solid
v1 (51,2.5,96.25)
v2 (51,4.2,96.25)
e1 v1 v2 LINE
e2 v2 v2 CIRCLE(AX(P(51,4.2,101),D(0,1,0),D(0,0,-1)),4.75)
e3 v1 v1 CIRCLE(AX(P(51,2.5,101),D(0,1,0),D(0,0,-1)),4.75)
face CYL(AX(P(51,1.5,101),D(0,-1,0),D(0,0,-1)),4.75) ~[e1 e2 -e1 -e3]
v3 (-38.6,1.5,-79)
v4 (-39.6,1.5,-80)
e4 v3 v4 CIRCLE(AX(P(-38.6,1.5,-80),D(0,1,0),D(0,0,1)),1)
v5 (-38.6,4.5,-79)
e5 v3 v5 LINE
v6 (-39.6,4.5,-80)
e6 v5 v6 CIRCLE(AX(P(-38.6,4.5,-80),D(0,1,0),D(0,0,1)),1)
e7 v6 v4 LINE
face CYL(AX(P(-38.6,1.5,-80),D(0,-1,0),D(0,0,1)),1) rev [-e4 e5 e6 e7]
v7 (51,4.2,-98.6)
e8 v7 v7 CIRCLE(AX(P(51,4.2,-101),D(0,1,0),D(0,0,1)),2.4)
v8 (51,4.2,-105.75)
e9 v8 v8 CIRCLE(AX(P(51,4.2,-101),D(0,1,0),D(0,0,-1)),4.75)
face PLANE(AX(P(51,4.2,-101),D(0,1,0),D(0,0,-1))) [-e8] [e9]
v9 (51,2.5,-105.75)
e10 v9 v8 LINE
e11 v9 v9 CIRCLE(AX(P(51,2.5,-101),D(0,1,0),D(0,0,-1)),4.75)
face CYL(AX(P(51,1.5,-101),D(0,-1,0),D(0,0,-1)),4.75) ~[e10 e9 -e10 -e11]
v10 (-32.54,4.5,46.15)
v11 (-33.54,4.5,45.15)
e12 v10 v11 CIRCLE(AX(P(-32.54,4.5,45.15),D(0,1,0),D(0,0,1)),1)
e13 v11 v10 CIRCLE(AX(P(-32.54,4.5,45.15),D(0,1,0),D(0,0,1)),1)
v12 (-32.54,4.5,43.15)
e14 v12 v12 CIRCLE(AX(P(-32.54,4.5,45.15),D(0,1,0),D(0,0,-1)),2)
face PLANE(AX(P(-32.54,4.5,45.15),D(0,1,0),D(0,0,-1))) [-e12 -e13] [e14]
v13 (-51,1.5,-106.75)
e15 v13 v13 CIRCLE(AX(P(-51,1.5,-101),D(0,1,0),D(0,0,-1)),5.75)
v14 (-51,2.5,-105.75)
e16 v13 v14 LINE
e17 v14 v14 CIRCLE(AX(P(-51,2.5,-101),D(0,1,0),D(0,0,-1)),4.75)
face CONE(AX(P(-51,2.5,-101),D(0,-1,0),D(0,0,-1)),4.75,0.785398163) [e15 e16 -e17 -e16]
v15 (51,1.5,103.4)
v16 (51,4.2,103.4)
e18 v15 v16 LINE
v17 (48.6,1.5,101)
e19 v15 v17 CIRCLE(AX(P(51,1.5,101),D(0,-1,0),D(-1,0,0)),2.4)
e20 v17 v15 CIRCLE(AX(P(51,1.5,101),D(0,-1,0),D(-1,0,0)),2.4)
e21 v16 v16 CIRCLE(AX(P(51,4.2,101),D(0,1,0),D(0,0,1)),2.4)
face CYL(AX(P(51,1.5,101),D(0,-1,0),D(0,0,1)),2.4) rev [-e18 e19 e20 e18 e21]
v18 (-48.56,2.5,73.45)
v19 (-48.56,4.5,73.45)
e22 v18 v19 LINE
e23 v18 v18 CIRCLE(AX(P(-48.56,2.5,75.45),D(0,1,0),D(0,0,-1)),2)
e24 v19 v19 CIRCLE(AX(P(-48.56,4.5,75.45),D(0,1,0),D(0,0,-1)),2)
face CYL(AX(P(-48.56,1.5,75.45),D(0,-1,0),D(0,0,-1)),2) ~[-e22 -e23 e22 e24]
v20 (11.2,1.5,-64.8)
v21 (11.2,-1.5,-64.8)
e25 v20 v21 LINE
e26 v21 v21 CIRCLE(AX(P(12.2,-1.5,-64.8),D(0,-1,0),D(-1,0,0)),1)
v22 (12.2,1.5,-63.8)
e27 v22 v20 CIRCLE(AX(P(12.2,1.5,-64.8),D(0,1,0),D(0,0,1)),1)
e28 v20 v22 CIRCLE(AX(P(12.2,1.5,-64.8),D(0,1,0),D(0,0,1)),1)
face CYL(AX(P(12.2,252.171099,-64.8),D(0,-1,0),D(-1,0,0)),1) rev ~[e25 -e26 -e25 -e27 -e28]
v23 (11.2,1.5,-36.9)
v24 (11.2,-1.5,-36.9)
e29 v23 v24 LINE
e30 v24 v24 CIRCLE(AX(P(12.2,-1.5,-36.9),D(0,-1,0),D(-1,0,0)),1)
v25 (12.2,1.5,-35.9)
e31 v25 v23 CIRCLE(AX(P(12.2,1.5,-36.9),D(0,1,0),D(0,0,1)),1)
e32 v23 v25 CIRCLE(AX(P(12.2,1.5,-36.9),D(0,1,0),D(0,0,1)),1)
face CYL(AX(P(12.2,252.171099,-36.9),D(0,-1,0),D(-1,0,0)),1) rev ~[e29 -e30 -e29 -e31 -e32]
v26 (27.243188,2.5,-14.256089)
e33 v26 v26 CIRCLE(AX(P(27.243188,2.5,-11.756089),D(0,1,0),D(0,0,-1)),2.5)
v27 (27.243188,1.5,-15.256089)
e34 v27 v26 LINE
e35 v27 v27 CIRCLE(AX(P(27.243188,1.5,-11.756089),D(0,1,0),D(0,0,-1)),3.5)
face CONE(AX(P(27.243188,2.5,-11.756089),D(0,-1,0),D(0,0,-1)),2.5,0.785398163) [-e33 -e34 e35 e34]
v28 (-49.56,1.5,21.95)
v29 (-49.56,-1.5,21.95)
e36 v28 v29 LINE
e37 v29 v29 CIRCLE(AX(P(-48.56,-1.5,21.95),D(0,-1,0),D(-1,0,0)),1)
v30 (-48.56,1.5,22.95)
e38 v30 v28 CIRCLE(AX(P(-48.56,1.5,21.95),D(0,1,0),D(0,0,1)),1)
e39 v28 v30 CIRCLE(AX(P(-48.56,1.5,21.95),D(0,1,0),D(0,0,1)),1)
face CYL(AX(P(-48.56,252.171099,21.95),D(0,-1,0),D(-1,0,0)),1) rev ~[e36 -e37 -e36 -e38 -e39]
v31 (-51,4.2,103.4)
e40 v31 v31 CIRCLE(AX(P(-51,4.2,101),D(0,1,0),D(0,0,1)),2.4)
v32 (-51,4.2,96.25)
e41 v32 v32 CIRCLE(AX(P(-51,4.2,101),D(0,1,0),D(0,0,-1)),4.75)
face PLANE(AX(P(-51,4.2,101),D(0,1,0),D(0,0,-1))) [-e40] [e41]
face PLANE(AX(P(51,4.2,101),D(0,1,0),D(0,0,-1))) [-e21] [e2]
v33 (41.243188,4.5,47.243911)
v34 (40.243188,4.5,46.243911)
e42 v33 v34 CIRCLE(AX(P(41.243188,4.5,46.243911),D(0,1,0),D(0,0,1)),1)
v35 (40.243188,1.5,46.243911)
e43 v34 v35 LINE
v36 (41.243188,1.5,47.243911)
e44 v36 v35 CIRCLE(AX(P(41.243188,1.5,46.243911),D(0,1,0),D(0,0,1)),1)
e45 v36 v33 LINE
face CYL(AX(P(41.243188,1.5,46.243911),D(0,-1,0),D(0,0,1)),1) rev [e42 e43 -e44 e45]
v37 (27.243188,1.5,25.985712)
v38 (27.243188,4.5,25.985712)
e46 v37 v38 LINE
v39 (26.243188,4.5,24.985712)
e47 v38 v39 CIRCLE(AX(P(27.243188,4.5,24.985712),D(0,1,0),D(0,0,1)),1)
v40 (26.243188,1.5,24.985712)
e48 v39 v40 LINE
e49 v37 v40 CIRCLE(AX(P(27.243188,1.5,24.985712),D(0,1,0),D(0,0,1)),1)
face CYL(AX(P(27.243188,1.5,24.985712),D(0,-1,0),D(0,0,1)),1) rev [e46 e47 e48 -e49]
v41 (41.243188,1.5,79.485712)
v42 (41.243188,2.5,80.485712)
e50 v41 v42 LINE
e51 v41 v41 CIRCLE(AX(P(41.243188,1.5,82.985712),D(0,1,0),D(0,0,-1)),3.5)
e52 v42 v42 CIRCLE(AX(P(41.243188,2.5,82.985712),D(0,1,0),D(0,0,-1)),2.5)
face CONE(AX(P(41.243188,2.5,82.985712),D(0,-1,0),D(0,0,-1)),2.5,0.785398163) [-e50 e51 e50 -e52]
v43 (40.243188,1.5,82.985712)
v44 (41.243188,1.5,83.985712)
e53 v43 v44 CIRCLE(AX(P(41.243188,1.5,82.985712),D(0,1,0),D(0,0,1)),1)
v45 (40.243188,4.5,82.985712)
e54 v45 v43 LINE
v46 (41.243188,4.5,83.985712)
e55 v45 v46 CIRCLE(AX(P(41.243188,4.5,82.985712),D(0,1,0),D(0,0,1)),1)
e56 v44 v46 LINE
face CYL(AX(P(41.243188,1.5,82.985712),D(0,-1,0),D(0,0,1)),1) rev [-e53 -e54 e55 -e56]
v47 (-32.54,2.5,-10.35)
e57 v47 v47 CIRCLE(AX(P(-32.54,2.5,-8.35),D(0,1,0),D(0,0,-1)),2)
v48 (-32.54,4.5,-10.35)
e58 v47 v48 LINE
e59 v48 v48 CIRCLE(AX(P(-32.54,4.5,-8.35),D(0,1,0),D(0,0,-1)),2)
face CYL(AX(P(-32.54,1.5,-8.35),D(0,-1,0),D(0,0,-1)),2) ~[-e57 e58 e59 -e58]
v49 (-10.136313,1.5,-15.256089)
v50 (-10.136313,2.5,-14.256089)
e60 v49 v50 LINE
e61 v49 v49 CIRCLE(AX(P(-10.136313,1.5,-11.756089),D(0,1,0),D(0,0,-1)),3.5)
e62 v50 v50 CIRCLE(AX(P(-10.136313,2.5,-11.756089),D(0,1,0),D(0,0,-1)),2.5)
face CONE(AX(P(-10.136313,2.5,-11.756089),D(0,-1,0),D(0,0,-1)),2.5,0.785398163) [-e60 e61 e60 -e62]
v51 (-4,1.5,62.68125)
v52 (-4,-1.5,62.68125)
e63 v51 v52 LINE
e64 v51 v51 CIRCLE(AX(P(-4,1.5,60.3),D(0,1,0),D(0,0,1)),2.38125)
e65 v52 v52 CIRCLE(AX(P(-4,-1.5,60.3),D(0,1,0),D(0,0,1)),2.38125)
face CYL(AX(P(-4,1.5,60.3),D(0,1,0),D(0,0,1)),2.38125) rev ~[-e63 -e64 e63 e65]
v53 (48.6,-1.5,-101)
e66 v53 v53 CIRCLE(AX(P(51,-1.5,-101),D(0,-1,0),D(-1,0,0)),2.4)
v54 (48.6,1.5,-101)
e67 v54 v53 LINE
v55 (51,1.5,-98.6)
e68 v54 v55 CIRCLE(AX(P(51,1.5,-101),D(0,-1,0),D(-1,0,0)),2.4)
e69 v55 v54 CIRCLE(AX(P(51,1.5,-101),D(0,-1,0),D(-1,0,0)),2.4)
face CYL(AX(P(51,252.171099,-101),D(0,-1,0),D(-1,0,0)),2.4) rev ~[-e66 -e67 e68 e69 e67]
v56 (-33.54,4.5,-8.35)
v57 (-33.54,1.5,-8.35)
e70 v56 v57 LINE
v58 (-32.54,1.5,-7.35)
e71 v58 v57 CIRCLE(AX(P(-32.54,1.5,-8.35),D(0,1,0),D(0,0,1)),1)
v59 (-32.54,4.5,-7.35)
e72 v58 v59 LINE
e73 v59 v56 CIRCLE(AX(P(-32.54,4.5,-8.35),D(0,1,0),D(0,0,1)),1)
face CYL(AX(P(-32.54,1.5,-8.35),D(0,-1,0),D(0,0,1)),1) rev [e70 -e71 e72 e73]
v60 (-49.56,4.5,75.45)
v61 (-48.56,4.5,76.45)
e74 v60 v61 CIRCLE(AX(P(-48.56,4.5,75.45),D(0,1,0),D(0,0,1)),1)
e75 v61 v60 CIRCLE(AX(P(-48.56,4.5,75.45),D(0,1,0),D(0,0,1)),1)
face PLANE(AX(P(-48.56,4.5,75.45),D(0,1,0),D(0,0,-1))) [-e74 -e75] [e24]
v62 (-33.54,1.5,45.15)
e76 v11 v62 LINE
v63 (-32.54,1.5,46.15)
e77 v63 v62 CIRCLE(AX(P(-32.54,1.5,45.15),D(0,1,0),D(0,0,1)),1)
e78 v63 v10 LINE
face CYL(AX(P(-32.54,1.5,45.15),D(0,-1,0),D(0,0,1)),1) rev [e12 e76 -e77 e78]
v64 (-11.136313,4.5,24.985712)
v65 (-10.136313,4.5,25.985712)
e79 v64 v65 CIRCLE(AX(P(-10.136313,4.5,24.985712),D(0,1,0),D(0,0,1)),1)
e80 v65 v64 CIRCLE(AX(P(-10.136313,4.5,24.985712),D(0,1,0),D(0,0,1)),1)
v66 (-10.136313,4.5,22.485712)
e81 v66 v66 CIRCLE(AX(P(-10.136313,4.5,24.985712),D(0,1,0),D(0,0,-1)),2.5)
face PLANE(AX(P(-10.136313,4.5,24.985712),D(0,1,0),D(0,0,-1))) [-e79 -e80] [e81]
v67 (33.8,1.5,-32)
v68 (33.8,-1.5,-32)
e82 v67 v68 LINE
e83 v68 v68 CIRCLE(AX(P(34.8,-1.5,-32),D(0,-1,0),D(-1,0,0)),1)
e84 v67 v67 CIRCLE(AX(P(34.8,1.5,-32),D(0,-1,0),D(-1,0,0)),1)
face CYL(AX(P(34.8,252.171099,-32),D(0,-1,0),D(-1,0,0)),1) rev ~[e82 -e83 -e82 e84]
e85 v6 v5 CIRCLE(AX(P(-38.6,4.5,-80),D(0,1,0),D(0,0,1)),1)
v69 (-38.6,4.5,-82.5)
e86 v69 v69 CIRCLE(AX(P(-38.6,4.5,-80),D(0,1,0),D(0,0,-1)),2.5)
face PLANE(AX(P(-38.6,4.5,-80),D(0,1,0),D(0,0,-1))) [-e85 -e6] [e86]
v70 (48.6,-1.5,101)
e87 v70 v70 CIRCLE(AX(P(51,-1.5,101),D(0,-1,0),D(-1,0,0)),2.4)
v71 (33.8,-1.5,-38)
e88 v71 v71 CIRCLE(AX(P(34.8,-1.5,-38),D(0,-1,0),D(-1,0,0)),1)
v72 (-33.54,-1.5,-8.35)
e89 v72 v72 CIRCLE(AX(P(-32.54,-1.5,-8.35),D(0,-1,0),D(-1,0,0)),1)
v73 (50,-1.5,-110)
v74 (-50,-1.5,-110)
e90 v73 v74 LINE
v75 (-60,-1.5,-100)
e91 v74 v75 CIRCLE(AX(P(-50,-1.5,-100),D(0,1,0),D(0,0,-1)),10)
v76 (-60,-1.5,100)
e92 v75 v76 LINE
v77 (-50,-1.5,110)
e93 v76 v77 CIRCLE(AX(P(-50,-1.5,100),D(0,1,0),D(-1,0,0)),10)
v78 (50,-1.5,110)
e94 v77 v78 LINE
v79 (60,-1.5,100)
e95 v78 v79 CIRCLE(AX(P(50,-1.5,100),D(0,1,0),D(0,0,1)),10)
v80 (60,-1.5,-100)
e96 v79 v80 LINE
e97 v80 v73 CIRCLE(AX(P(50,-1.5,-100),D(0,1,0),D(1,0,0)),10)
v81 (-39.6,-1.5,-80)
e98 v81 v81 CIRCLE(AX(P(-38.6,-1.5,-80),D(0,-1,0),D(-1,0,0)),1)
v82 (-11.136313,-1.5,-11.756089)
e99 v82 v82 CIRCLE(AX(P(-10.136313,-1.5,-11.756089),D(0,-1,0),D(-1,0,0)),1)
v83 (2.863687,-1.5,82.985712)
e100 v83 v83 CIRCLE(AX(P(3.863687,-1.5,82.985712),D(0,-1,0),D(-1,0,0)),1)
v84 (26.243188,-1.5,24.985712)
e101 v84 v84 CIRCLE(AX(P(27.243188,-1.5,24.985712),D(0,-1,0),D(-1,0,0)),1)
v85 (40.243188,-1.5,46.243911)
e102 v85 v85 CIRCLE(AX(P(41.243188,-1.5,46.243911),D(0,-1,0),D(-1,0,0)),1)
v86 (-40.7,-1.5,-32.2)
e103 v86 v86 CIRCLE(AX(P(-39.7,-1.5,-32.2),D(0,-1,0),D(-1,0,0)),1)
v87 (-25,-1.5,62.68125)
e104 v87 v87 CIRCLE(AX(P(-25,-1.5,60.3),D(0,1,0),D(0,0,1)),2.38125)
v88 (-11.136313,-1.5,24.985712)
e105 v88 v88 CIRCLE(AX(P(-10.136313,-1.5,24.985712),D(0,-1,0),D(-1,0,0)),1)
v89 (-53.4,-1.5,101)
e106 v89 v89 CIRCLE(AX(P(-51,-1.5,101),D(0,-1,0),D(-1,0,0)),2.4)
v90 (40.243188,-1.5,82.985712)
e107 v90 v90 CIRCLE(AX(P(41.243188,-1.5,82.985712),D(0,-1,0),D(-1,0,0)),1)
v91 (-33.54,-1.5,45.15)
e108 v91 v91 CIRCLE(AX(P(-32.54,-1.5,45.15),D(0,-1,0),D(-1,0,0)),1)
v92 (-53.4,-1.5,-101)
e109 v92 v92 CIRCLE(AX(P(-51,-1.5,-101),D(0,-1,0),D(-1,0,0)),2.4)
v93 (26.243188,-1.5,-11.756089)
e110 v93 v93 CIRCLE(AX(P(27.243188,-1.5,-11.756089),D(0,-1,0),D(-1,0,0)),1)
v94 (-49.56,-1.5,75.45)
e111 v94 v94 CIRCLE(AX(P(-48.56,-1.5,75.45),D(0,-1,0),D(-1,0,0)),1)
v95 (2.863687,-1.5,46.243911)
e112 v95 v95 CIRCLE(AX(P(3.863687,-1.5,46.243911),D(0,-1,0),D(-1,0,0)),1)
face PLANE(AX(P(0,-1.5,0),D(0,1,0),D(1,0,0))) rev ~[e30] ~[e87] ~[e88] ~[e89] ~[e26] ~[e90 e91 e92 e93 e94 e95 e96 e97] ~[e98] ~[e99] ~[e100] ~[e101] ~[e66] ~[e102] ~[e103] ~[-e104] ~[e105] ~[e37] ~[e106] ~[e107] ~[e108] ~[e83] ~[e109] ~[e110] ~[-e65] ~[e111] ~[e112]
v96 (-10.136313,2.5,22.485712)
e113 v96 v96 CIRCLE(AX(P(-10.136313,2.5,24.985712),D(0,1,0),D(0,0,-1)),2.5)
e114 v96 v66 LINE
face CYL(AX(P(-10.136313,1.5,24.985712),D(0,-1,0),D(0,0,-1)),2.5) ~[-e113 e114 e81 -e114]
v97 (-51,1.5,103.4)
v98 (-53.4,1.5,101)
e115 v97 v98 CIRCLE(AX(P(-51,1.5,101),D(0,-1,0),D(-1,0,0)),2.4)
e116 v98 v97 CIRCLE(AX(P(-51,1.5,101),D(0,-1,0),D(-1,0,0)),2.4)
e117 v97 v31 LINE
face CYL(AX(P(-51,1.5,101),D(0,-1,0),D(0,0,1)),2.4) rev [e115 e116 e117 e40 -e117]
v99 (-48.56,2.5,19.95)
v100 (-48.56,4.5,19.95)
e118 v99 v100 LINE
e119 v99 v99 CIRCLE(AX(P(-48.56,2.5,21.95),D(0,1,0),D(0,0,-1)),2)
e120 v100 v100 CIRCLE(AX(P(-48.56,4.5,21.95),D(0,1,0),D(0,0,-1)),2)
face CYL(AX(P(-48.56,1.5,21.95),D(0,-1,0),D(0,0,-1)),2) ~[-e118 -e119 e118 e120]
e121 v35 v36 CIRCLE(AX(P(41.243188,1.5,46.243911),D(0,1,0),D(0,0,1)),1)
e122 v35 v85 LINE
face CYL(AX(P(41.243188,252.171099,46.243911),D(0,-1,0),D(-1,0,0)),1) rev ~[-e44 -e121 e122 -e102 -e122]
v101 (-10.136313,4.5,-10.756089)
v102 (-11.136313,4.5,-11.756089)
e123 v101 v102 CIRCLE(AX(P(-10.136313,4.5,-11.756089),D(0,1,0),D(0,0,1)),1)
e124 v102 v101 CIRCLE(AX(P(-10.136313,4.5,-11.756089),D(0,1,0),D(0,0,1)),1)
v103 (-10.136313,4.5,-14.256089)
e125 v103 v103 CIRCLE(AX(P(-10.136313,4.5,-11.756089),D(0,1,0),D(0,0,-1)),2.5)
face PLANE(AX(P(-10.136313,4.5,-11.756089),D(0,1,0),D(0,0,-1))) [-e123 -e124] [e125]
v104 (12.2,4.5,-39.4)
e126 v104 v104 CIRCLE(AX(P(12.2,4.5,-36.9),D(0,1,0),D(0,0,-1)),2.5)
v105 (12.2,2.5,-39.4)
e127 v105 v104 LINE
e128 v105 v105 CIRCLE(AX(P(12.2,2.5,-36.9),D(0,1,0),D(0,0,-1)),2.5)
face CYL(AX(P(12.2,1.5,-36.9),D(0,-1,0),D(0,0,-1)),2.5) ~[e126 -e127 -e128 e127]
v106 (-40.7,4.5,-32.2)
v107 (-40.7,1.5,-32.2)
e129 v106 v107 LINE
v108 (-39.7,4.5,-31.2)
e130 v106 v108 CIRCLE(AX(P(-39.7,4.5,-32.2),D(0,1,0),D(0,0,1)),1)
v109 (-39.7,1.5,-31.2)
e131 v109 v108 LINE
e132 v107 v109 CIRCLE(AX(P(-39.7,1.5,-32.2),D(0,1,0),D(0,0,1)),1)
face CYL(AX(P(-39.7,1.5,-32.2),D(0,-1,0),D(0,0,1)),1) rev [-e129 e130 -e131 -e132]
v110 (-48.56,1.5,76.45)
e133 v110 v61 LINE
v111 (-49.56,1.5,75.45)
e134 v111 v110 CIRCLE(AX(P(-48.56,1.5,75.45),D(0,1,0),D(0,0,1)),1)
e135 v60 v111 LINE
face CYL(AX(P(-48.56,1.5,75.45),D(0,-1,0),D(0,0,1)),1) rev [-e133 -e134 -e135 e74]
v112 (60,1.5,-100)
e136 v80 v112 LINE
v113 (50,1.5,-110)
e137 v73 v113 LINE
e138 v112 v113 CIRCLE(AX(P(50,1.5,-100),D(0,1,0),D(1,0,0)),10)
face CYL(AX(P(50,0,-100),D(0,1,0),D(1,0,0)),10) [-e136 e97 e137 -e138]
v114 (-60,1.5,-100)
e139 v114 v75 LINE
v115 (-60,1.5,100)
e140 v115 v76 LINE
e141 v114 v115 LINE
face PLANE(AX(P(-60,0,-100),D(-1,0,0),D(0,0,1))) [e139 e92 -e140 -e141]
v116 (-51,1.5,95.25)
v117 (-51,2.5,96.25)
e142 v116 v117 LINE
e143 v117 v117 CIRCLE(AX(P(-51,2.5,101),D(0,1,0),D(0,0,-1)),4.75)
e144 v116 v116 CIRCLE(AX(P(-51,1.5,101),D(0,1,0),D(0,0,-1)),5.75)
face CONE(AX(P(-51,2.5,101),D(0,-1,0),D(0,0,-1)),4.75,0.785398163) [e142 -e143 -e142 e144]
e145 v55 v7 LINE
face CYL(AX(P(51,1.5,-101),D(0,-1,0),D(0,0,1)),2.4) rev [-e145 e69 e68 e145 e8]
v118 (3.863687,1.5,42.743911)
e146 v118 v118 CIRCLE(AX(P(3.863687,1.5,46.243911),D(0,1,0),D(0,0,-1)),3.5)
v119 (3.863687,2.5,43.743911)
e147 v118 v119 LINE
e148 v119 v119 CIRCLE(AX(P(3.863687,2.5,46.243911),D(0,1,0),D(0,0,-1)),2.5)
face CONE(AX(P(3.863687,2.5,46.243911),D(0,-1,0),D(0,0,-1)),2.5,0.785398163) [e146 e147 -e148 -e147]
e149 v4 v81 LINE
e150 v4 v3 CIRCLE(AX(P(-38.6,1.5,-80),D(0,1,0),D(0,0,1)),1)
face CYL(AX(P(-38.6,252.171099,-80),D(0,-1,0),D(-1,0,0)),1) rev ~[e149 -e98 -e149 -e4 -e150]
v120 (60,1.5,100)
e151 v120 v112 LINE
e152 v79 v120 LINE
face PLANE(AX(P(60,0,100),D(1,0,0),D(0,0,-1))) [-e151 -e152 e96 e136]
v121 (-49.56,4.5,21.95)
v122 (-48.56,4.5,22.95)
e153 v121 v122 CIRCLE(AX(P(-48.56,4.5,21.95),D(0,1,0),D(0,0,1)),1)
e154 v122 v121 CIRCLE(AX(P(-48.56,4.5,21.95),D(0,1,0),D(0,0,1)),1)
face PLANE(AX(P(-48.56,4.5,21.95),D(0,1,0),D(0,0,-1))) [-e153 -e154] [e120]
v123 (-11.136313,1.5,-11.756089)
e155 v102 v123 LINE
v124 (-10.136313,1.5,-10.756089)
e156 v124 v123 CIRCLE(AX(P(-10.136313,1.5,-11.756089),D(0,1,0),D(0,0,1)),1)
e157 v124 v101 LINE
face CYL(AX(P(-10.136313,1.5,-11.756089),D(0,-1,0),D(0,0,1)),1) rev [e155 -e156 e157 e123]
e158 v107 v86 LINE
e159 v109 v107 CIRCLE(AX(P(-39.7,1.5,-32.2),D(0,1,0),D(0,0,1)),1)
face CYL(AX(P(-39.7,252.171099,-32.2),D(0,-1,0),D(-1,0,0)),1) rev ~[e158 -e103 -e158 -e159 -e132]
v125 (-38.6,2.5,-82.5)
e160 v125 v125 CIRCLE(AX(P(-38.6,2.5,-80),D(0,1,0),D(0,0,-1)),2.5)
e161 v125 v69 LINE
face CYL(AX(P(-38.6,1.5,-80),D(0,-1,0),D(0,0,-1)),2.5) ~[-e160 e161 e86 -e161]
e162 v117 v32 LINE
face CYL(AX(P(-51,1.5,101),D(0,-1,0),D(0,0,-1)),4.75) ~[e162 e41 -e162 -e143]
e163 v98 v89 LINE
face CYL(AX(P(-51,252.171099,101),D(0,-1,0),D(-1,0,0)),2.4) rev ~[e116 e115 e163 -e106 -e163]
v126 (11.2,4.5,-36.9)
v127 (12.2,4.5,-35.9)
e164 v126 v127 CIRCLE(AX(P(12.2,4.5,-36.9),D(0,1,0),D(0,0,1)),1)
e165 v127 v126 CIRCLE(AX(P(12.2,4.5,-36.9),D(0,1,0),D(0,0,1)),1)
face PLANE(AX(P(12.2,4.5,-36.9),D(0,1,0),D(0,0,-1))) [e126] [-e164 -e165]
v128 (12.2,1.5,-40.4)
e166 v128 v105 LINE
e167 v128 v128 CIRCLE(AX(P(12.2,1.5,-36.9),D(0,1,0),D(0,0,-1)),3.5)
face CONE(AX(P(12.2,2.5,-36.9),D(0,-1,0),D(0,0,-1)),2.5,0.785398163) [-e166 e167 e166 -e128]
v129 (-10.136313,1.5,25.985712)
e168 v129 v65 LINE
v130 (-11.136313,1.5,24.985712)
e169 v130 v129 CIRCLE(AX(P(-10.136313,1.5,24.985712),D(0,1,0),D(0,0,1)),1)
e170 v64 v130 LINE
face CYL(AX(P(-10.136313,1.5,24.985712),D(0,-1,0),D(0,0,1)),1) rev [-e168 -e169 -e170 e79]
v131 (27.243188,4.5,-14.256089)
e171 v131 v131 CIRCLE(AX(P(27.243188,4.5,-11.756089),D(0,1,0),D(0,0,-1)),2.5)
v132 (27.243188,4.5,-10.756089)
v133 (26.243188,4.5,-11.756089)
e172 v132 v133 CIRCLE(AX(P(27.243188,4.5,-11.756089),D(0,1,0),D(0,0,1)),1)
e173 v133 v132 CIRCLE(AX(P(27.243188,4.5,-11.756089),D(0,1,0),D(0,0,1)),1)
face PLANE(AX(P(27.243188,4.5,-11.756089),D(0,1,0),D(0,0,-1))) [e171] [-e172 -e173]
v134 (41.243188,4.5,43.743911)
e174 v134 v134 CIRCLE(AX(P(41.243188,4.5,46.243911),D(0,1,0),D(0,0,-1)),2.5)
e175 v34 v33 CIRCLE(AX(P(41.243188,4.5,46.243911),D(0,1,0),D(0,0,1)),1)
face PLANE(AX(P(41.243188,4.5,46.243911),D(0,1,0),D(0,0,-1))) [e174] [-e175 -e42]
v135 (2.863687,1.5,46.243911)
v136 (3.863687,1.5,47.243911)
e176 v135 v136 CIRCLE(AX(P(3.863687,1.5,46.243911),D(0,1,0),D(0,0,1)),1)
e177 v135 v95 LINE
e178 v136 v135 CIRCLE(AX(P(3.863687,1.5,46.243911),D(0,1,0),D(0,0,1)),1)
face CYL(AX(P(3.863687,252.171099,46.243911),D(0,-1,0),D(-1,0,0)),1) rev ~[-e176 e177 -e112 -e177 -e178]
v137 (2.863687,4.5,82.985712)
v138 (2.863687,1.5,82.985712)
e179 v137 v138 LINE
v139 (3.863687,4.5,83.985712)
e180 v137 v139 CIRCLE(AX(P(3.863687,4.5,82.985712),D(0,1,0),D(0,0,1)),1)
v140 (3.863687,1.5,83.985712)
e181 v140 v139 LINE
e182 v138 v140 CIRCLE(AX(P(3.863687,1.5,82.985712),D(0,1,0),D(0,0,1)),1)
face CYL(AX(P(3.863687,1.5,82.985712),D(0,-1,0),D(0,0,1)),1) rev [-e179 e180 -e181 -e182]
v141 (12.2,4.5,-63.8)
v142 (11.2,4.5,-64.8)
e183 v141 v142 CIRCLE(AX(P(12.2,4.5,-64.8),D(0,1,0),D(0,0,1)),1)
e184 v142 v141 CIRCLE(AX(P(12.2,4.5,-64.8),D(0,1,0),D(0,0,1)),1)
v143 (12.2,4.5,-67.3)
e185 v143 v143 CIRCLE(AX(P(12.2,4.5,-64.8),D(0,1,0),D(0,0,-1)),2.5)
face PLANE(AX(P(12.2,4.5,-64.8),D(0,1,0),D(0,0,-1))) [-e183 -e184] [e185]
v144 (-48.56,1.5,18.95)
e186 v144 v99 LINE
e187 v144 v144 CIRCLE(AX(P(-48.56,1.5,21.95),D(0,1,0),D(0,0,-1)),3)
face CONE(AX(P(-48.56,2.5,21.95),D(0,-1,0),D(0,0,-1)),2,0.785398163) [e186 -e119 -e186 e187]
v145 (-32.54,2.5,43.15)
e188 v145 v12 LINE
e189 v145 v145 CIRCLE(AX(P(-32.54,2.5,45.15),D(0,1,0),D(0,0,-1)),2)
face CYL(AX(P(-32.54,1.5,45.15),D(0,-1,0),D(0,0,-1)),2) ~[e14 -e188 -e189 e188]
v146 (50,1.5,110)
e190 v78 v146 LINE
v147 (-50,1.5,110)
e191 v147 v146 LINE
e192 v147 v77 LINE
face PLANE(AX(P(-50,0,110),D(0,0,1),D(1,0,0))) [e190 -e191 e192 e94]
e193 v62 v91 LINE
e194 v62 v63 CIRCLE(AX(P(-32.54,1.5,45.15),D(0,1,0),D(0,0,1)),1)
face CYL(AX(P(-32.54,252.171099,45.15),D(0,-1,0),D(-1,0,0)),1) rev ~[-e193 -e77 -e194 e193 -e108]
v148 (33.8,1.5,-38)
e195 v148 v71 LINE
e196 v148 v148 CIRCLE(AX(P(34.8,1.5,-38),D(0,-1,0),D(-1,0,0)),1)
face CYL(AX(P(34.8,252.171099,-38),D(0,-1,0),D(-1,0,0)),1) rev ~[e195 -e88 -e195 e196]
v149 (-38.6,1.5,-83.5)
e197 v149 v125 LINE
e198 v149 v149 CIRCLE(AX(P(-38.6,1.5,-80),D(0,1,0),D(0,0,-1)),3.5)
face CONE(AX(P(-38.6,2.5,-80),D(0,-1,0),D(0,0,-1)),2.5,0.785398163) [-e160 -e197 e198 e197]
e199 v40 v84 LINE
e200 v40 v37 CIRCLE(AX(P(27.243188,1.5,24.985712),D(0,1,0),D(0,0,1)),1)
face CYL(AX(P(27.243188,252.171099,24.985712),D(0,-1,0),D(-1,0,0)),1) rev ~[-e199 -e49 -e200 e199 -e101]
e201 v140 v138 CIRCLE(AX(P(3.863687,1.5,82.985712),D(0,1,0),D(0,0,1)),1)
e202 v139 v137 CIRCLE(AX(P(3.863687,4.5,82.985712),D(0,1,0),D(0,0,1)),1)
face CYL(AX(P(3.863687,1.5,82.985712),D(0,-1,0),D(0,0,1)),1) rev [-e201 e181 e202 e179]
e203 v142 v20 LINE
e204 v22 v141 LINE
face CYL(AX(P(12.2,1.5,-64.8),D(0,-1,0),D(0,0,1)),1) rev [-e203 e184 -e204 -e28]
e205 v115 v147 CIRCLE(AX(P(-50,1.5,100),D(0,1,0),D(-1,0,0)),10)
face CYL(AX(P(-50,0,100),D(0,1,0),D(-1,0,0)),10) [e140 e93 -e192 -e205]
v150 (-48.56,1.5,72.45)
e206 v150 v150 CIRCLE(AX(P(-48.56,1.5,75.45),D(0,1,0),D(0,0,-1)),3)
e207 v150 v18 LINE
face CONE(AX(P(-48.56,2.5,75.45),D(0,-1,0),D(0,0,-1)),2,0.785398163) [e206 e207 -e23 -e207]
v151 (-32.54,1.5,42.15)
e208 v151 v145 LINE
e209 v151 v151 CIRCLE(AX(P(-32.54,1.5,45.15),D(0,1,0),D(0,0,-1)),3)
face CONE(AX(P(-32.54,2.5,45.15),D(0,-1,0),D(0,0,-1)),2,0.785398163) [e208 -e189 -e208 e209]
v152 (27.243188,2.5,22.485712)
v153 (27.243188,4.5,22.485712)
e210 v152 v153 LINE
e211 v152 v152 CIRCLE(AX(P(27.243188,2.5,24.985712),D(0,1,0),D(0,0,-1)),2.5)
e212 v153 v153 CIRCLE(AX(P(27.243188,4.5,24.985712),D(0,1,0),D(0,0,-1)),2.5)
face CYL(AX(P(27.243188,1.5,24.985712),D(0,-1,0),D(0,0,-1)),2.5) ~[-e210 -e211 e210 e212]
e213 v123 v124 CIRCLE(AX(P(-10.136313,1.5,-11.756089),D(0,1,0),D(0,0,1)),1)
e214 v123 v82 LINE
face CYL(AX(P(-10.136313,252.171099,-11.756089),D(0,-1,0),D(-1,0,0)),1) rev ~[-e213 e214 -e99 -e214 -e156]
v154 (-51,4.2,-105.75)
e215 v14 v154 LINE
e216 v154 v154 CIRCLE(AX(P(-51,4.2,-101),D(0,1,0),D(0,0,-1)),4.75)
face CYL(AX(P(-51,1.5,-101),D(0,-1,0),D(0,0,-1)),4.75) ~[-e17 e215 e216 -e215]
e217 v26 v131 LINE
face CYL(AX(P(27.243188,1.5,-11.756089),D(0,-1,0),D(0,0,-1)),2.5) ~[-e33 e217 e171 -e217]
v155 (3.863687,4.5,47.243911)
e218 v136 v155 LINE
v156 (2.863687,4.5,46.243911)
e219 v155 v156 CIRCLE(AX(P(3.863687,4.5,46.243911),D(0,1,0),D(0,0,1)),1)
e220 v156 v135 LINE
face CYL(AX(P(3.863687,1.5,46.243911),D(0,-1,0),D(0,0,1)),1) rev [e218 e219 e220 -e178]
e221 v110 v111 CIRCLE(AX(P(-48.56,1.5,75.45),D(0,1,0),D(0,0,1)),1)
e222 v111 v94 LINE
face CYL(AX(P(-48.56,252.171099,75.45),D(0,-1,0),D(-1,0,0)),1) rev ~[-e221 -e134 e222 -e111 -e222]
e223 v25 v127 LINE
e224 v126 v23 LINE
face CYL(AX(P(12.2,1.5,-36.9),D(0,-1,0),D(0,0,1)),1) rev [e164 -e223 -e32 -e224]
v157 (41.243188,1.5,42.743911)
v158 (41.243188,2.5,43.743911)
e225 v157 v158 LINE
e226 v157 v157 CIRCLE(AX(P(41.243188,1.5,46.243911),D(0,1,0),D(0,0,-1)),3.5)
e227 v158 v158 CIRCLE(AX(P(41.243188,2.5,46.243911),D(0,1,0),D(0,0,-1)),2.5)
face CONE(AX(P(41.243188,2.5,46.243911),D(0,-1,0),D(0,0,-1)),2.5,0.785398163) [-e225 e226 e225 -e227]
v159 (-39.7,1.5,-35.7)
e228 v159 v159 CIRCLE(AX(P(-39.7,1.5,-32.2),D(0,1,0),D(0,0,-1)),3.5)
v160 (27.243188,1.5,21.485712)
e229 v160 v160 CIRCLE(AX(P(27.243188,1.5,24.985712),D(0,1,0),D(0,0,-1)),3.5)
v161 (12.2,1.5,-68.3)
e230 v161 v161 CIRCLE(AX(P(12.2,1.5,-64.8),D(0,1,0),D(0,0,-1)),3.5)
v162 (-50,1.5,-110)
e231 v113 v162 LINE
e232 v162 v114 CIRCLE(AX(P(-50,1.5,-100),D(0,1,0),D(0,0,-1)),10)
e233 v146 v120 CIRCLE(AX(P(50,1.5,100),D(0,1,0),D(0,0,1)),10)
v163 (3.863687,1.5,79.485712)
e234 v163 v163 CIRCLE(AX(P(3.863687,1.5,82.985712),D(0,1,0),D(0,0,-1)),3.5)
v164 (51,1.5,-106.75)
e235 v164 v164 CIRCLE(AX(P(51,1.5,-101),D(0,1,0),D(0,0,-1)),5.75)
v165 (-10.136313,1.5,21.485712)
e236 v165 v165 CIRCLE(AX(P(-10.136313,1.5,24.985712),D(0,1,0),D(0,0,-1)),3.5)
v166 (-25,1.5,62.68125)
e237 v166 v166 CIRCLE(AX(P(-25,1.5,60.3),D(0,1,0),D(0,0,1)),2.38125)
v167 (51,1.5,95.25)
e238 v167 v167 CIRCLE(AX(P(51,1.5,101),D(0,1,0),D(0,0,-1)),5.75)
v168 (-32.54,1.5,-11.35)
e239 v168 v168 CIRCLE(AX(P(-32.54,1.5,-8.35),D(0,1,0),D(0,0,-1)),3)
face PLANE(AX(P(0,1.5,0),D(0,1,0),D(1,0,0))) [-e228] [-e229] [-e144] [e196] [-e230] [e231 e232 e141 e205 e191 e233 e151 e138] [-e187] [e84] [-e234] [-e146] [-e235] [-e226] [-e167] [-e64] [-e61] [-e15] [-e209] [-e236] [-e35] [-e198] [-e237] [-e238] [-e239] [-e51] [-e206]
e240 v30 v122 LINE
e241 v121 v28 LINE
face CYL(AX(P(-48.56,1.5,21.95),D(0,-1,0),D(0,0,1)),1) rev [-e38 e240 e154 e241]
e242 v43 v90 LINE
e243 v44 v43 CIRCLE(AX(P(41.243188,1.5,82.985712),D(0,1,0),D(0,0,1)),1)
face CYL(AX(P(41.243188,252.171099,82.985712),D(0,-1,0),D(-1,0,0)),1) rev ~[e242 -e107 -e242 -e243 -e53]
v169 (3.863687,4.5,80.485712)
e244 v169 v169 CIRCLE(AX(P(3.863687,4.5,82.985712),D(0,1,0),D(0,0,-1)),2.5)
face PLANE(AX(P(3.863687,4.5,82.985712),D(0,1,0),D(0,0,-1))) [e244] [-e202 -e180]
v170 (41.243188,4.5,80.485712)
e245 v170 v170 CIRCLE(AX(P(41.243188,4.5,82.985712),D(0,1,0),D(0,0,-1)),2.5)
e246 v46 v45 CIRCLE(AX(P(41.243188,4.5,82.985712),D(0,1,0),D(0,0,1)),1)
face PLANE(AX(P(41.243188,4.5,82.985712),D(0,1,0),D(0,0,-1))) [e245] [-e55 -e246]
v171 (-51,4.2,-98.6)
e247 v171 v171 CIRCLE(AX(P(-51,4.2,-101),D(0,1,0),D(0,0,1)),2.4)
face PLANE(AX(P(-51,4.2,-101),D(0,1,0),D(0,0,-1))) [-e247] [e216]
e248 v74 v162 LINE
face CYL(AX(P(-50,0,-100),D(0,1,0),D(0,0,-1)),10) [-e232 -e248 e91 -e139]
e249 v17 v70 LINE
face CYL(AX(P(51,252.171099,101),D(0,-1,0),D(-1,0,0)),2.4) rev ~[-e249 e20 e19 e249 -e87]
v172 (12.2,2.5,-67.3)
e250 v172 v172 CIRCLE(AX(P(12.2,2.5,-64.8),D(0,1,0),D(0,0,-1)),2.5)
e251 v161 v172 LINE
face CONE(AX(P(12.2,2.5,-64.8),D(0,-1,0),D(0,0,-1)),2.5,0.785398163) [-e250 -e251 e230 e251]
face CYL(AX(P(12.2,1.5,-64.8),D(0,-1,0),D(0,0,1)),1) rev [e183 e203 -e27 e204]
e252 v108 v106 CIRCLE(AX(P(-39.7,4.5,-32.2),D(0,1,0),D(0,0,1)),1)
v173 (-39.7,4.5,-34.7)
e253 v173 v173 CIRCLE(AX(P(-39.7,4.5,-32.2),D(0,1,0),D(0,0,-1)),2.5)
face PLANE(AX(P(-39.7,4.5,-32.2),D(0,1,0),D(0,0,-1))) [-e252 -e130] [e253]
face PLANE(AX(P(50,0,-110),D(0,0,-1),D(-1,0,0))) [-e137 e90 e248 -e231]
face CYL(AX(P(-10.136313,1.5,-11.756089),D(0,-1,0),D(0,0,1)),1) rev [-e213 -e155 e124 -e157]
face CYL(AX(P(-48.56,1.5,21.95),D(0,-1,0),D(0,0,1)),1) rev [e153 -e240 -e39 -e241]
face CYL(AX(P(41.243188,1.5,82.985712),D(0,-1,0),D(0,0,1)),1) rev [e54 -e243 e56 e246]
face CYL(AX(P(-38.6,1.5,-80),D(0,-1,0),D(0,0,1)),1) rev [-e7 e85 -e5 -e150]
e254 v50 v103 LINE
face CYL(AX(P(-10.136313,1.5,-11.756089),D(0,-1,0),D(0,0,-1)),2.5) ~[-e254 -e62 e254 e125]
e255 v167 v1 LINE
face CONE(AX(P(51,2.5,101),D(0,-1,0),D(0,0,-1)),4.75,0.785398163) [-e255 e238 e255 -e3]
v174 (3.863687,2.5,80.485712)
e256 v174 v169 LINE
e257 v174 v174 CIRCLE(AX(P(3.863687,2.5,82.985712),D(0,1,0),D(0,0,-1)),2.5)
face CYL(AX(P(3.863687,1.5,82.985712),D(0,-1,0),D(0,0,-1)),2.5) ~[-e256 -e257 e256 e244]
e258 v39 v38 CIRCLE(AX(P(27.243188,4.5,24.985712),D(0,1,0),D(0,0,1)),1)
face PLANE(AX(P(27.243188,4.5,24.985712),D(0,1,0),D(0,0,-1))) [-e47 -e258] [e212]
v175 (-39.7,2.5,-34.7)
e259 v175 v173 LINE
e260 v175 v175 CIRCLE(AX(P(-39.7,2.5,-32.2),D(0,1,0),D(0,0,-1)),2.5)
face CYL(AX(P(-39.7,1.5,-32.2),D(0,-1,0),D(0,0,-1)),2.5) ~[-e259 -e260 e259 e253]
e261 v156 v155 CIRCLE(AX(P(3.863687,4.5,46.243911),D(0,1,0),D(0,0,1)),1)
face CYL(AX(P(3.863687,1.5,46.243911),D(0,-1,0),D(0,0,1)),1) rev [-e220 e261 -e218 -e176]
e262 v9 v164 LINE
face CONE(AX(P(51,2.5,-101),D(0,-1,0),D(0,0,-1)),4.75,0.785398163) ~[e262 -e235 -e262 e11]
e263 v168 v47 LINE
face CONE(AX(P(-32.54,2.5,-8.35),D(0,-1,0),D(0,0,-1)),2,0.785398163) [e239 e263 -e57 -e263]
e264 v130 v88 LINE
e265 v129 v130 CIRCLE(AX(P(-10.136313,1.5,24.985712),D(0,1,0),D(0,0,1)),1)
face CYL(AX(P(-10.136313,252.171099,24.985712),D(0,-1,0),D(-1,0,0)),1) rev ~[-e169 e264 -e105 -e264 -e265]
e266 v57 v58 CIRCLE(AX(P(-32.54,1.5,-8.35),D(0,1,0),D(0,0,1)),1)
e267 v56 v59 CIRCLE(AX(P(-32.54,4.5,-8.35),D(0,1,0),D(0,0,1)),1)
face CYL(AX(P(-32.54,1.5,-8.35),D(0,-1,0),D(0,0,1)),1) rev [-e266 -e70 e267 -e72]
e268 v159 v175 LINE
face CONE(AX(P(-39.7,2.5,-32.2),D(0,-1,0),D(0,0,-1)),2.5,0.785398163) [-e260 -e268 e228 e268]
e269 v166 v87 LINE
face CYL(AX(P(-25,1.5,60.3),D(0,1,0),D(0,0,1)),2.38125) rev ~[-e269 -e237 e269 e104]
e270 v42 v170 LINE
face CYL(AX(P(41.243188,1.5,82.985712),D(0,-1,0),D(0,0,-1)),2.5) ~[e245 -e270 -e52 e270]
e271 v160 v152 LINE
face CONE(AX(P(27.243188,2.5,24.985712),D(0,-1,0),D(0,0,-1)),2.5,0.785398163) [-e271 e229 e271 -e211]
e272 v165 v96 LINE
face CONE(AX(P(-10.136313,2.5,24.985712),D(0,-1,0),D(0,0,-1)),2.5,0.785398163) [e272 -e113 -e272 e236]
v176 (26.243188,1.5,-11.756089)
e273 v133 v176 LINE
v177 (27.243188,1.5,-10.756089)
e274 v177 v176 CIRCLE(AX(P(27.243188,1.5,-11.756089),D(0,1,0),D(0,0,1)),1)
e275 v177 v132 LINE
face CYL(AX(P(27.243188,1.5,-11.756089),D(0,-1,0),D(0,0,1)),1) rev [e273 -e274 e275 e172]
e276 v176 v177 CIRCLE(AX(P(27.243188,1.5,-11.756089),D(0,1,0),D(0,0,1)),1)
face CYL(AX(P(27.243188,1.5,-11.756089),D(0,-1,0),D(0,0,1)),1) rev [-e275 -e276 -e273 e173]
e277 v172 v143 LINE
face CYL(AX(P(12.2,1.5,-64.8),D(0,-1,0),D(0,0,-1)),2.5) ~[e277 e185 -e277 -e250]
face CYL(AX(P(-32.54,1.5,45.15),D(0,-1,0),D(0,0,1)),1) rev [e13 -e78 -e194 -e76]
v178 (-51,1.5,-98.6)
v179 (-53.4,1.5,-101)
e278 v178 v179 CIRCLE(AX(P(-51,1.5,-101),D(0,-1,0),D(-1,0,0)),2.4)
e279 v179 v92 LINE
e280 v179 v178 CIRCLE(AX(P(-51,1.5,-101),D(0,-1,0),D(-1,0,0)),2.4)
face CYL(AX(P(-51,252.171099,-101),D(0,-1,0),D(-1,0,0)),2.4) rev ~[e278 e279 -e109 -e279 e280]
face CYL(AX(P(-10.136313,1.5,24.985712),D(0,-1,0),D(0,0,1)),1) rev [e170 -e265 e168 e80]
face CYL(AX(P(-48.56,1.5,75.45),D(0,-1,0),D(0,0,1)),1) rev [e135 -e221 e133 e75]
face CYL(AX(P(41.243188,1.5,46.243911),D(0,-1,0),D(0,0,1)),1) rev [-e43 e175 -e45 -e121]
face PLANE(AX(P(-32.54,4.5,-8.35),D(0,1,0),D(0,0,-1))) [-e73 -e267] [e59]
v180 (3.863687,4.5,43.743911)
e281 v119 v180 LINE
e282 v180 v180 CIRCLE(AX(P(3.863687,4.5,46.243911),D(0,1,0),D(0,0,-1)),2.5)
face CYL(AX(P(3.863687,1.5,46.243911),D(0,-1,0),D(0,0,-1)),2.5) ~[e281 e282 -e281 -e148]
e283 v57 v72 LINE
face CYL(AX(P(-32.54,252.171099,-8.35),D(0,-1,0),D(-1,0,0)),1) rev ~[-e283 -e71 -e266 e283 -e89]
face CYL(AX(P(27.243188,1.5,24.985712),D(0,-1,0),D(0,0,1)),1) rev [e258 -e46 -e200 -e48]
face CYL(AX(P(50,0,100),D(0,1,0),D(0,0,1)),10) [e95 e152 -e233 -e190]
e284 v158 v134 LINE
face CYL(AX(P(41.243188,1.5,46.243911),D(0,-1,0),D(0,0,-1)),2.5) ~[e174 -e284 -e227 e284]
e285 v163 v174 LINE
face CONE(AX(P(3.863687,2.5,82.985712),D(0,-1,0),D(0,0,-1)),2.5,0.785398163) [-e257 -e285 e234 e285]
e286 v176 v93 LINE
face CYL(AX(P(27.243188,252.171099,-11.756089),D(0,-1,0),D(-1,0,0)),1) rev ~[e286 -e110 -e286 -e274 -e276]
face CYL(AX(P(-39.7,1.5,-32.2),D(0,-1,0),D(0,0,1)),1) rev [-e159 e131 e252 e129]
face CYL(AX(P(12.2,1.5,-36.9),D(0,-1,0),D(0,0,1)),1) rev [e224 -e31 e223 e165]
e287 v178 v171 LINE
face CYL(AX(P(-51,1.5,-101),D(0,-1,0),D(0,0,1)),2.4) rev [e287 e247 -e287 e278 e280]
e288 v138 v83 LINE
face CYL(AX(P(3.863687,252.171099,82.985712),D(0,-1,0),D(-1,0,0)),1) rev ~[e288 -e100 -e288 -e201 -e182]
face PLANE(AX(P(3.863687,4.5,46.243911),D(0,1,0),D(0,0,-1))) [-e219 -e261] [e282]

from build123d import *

# Parameters (mm, degrees)
BOSS_EXTRUDE1_DEPTH        = 1.5
SKETCH3_R                  = 2.5
SKETCH3_R_2                = 1
SKETCH3_R_3                = 2
BOSS_EXTRUDE2_DEPTH        = 3
F_4_8_4_8_DIAMETER_HOLE1_D = 4.8
SKETCH7_R                  = 4.75
SKETCH7_R_2                = 2.4
BOSS_EXTRUDE3_DEPTH        = 2.7
F_2_0MM_DOWEL_HOLE1_D      = 2
CHAMFER1_SIZE              = 1
SKETCH15_R                 = 2.38125
CUT_EXTRUDE1_DEPTH         = 126.335549626


with BuildPart() as part:
    # Sketch2 → Boss-Extrude1 (new, symmetric)
    with BuildSketch(Plane(origin=(0, 0, 0), x_dir=(1, 0, 0), z_dir=(0, 1, 0))):
        with BuildLine():
            Line((-50, -110), (50, -110))
            ThreePointArc((50, -110), (57.071067812, -107.071067812), (60, -100))
            Line((60, -100), (60, 100))
            ThreePointArc((60, 100), (57.071067812, 107.071067812), (50, 110))
            Line((50, 110), (-50, 110))
            ThreePointArc((-50, 110), (-57.071067812, 107.071067812), (-60, 100))
            Line((-60, 100), (-60, -100))
            ThreePointArc((-60, -100), (-57.071067812, -107.071067812), (-50, -110))
        make_face()
    extrude(amount=BOSS_EXTRUDE1_DEPTH, both=True)

    # Sketch3 → Boss-Extrude2 (add)
    # profile 1 of 16: a face of its own
    with BuildSketch(Plane(origin=(0, 1.5, 0), x_dir=(1, 0, 0), z_dir=(0, 1, 0))):
        with Locations(Location((41.24318761, -46.24391141, 0), (0, 0, 90))):
            Circle(SKETCH3_R)
        with Locations(Location((41.24318761, -46.24391141, 0), (0, 0, 270))):
            Circle(SKETCH3_R_2, mode=Mode.SUBTRACT)
    # profile 2 of 16: a face of its own
    with BuildSketch(Plane(origin=(0, 1.5, 0), x_dir=(1, 0, 0), z_dir=(0, 1, 0))):
        with Locations(Location((3.86368673, -46.24391141, 0), (0, 0, 90))):
            Circle(SKETCH3_R)
        with Locations(Location((3.86368673, -46.24391141, 0), (0, 0, 270))):
            Circle(SKETCH3_R_2, mode=Mode.SUBTRACT)
    # profile 3 of 16: a face of its own
    with BuildSketch(Plane(origin=(0, 1.5, 0), x_dir=(1, 0, 0), z_dir=(0, 1, 0))):
        with Locations(Location((3.86368673, -82.98571173, 0), (0, 0, 90))):
            Circle(SKETCH3_R)
        with Locations(Location((3.86368673, -82.98571173, 0), (0, 0, 270))):
            Circle(SKETCH3_R_2, mode=Mode.SUBTRACT)
    # profile 4 of 16: a face of its own
    with BuildSketch(Plane(origin=(0, 1.5, 0), x_dir=(1, 0, 0), z_dir=(0, 1, 0))):
        with Locations(Location((41.24318761, -82.98571173, 0), (0, 0, 90))):
            Circle(SKETCH3_R)
        with Locations(Location((41.24318761, -82.98571173, 0), (0, 0, 270))):
            Circle(SKETCH3_R_2, mode=Mode.SUBTRACT)
    # profile 5 of 16: a face of its own
    with BuildSketch(Plane(origin=(0, 1.5, 0), x_dir=(1, 0, 0), z_dir=(0, 1, 0))):
        with Locations(Location((-10.13631327, -24.98571173, 0), (0, 0, 90))):
            Circle(SKETCH3_R)
        with Locations(Location((-10.13631327, -24.98571173, 0), (0, 0, 270))):
            Circle(SKETCH3_R_2, mode=Mode.SUBTRACT)
    # profile 6 of 16: a face of its own
    with BuildSketch(Plane(origin=(0, 1.5, 0), x_dir=(1, 0, 0), z_dir=(0, 1, 0))):
        with Locations(Location((-10.13631327, 11.75608859, 0), (0, 0, 90))):
            Circle(SKETCH3_R)
        with Locations(Location((-10.13631327, 11.75608859, 0), (0, 0, 270))):
            Circle(SKETCH3_R_2, mode=Mode.SUBTRACT)
    # profile 7 of 16: a face of its own
    with BuildSketch(Plane(origin=(0, 1.5, 0), x_dir=(1, 0, 0), z_dir=(0, 1, 0))):
        with Locations(Location((27.24318761, 11.75608859, 0), (0, 0, 90))):
            Circle(SKETCH3_R)
        with Locations(Location((27.24318761, 11.75608859, 0), (0, 0, 270))):
            Circle(SKETCH3_R_2, mode=Mode.SUBTRACT)
    # profile 8 of 16: a face of its own
    with BuildSketch(Plane(origin=(0, 1.5, 0), x_dir=(1, 0, 0), z_dir=(0, 1, 0))):
        with Locations(Location((27.24318761, -24.98571173, 0), (0, 0, 90))):
            Circle(SKETCH3_R)
        with Locations(Location((27.24318761, -24.98571173, 0), (0, 0, 270))):
            Circle(SKETCH3_R_2, mode=Mode.SUBTRACT)
    # profile 9 of 16: a face of its own
    with BuildSketch(Plane(origin=(0, 1.5, 0), x_dir=(1, 0, 0), z_dir=(0, 1, 0))):
        with Locations(Location((-48.56, -75.45, 0), (0, 0, 90))):
            Circle(SKETCH3_R_3)
        with Locations(Location((-48.56, -75.45, 0), (0, 0, 270))):
            Circle(SKETCH3_R_2, mode=Mode.SUBTRACT)
    # profile 10 of 16: a face of its own
    with BuildSketch(Plane(origin=(0, 1.5, 0), x_dir=(1, 0, 0), z_dir=(0, 1, 0))):
        with Locations(Location((-32.54, -45.15, 0), (0, 0, 90))):
            Circle(SKETCH3_R_3)
        with Locations(Location((-32.54, -45.15, 0), (0, 0, 270))):
            Circle(SKETCH3_R_2, mode=Mode.SUBTRACT)
    # profile 11 of 16: a face of its own
    with BuildSketch(Plane(origin=(0, 1.5, 0), x_dir=(1, 0, 0), z_dir=(0, 1, 0))):
        with Locations(Location((-48.56, -21.95, 0), (0, 0, 90))):
            Circle(SKETCH3_R_3)
        with Locations(Location((-48.56, -21.95, 0), (0, 0, 270))):
            Circle(SKETCH3_R_2, mode=Mode.SUBTRACT)
    # profile 12 of 16: a face of its own
    with BuildSketch(Plane(origin=(0, 1.5, 0), x_dir=(1, 0, 0), z_dir=(0, 1, 0))):
        with Locations(Location((-32.54, 8.35, 0), (0, 0, 90))):
            Circle(SKETCH3_R_3)
        with Locations(Location((-32.54, 8.35, 0), (0, 0, 270))):
            Circle(SKETCH3_R_2, mode=Mode.SUBTRACT)
    # profile 13 of 16: a face of its own
    with BuildSketch(Plane(origin=(0, 1.5, 0), x_dir=(1, 0, 0), z_dir=(0, 1, 0))):
        with Locations(Location((-39.7, 32.2, 0), (0, 0, 90))):
            Circle(SKETCH3_R)
        with Locations(Location((-39.7, 32.2, 0), (0, 0, 270))):
            Circle(SKETCH3_R_2, mode=Mode.SUBTRACT)
    # profile 14 of 16: a face of its own
    with BuildSketch(Plane(origin=(0, 1.5, 0), x_dir=(1, 0, 0), z_dir=(0, 1, 0))):
        with Locations(Location((-38.6, 80, 0), (0, 0, 90))):
            Circle(SKETCH3_R)
        with Locations(Location((-38.6, 80, 0), (0, 0, 270))):
            Circle(SKETCH3_R_2, mode=Mode.SUBTRACT)
    # profile 15 of 16: a face of its own
    with BuildSketch(Plane(origin=(0, 1.5, 0), x_dir=(1, 0, 0), z_dir=(0, 1, 0))):
        with Locations(Location((12.2, 36.9, 0), (0, 0, 90))):
            Circle(SKETCH3_R)
        with Locations(Location((12.2, 36.9, 0), (0, 0, 270))):
            Circle(SKETCH3_R_2, mode=Mode.SUBTRACT)
    # profile 16 of 16: a face of its own
    with BuildSketch(Plane(origin=(0, 1.5, 0), x_dir=(1, 0, 0), z_dir=(0, 1, 0))):
        with Locations(Location((12.2, 64.8, 0), (0, 0, 90))):
            Circle(SKETCH3_R)
        with Locations(Location((12.2, 64.8, 0), (0, 0, 270))):
            Circle(SKETCH3_R_2, mode=Mode.SUBTRACT)
    extrude(amount=BOSS_EXTRUDE2_DEPTH)

    # Ø4.8 (4.8) Diameter Hole1 (through all)
    with Locations(Plane(origin=(0, 1.5, 0), x_dir=(1, 0, 0), z_dir=(0, 1, 0))):
        with Locations((51, 101), (51, -101), (-51, -101), (-51, 101)):
            Hole(F_4_8_4_8_DIAMETER_HOLE1_D / 2)

    # Sketch7 → Boss-Extrude3 (add)
    # profile 1 of 4: a face of its own
    with BuildSketch(Plane(origin=(0, 1.5, 0), x_dir=(1, 0, 0), z_dir=(0, 1, 0))):
        with Locations(Location((51, 101, 0), (0, 0, 90))):
            Circle(SKETCH7_R)
        with Locations(Location((51, 101, 0), (0, 0, 270))):
            Circle(SKETCH7_R_2, mode=Mode.SUBTRACT)
    # profile 2 of 4: a face of its own
    with BuildSketch(Plane(origin=(0, 1.5, 0), x_dir=(1, 0, 0), z_dir=(0, 1, 0))):
        with Locations(Location((-51, 101, 0), (0, 0, 90))):
            Circle(SKETCH7_R)
        with Locations(Location((-51, 101, 0), (0, 0, 270))):
            Circle(SKETCH7_R_2, mode=Mode.SUBTRACT)
    # profile 3 of 4: a face of its own
    with BuildSketch(Plane(origin=(0, 1.5, 0), x_dir=(1, 0, 0), z_dir=(0, 1, 0))):
        with Locations(Location((-51, -101, 0), (0, 0, 90))):
            Circle(SKETCH7_R)
        with Locations(Location((-51, -101, 0), (0, 0, 270))):
            Circle(SKETCH7_R_2, mode=Mode.SUBTRACT)
    # profile 4 of 4: a face of its own
    with BuildSketch(Plane(origin=(0, 1.5, 0), x_dir=(1, 0, 0), z_dir=(0, 1, 0))):
        with Locations(Location((51, -101, 0), (0, 0, 90))):
            Circle(SKETCH7_R)
        with Locations(Location((51, -101, 0), (0, 0, 270))):
            Circle(SKETCH7_R_2, mode=Mode.SUBTRACT)
    extrude(amount=BOSS_EXTRUDE3_DEPTH)

    # Ø2.0mm Dowel Hole1 (through all)
    with Locations(Plane(origin=(0, 1.5, 0), x_dir=(1, 0, 0), z_dir=(0, 1, 0))):
        with Locations((27.24318761, -24.98571173), (27.24318761, 11.75608859), (-10.13631327, -24.98571173), (-10.13631327, 11.75608859), (3.86368673, -46.24391141), (41.24318761, -46.24391141), (41.24318761, -82.98571173), (3.86368673, -82.98571173), (12.2, 36.9), (12.2, 64.8), (-38.6, 80), (-39.7, 32.2), (-32.54, 8.35), (-48.56, -21.95), (-48.56, -75.45), (-32.54, -45.15), (34.8, 38), (34.8, 32)):
            Hole(F_2_0MM_DOWEL_HOLE1_D / 2)

    # Chamfer1
    chamfer1_edges = [part.edges().sort_by_distance(p)[0] for p in [
        (-38.6, 1.5, -77.5),
        (12.2, 1.5, -34.4),
        (12.2, 1.5, -62.3),
        (51, 1.5, -96.25),
        (-51, 1.5, -96.25),
        (-51, 1.5, 105.75),
        (51, 1.5, 105.75),
        (41.24318761, 1.5, 48.74391141),
        (3.86368673, 1.5, 48.74391141),
        (3.86368673, 1.5, 85.48571173),
        (41.24318761, 1.5, 85.48571173),
        (-10.13631327, 1.5, 27.48571173),
        (-10.13631327, 1.5, -9.25608859),
        (27.24318761, 1.5, -9.25608859),
        (27.24318761, 1.5, 27.48571173),
        (-48.56, 1.5, 77.45),
        (-32.54, 1.5, 47.15),
        (-48.56, 1.5, 23.95),
        (-32.54, 1.5, -6.35),
        (-39.7, 1.5, -29.7),
    ]]
    chamfer(chamfer1_edges, length=CHAMFER1_SIZE)

    # Sketch15 → Cut-Extrude1 (cut, through all)
    with BuildSketch(Plane(origin=(0, 1.5, 0), x_dir=(1, 0, 0), z_dir=(0, 1, 0))):
        with Locations(Location((-4, -60.3, 0), (0, 0, 270))):
            Circle(SKETCH15_R)
        with Locations(Location((-25, -60.3, 0), (0, 0, 270))):
            Circle(SKETCH15_R)
    extrude(amount=-CUT_EXTRUDE1_DEPTH, mode=Mode.SUBTRACT)


solid = part.part
